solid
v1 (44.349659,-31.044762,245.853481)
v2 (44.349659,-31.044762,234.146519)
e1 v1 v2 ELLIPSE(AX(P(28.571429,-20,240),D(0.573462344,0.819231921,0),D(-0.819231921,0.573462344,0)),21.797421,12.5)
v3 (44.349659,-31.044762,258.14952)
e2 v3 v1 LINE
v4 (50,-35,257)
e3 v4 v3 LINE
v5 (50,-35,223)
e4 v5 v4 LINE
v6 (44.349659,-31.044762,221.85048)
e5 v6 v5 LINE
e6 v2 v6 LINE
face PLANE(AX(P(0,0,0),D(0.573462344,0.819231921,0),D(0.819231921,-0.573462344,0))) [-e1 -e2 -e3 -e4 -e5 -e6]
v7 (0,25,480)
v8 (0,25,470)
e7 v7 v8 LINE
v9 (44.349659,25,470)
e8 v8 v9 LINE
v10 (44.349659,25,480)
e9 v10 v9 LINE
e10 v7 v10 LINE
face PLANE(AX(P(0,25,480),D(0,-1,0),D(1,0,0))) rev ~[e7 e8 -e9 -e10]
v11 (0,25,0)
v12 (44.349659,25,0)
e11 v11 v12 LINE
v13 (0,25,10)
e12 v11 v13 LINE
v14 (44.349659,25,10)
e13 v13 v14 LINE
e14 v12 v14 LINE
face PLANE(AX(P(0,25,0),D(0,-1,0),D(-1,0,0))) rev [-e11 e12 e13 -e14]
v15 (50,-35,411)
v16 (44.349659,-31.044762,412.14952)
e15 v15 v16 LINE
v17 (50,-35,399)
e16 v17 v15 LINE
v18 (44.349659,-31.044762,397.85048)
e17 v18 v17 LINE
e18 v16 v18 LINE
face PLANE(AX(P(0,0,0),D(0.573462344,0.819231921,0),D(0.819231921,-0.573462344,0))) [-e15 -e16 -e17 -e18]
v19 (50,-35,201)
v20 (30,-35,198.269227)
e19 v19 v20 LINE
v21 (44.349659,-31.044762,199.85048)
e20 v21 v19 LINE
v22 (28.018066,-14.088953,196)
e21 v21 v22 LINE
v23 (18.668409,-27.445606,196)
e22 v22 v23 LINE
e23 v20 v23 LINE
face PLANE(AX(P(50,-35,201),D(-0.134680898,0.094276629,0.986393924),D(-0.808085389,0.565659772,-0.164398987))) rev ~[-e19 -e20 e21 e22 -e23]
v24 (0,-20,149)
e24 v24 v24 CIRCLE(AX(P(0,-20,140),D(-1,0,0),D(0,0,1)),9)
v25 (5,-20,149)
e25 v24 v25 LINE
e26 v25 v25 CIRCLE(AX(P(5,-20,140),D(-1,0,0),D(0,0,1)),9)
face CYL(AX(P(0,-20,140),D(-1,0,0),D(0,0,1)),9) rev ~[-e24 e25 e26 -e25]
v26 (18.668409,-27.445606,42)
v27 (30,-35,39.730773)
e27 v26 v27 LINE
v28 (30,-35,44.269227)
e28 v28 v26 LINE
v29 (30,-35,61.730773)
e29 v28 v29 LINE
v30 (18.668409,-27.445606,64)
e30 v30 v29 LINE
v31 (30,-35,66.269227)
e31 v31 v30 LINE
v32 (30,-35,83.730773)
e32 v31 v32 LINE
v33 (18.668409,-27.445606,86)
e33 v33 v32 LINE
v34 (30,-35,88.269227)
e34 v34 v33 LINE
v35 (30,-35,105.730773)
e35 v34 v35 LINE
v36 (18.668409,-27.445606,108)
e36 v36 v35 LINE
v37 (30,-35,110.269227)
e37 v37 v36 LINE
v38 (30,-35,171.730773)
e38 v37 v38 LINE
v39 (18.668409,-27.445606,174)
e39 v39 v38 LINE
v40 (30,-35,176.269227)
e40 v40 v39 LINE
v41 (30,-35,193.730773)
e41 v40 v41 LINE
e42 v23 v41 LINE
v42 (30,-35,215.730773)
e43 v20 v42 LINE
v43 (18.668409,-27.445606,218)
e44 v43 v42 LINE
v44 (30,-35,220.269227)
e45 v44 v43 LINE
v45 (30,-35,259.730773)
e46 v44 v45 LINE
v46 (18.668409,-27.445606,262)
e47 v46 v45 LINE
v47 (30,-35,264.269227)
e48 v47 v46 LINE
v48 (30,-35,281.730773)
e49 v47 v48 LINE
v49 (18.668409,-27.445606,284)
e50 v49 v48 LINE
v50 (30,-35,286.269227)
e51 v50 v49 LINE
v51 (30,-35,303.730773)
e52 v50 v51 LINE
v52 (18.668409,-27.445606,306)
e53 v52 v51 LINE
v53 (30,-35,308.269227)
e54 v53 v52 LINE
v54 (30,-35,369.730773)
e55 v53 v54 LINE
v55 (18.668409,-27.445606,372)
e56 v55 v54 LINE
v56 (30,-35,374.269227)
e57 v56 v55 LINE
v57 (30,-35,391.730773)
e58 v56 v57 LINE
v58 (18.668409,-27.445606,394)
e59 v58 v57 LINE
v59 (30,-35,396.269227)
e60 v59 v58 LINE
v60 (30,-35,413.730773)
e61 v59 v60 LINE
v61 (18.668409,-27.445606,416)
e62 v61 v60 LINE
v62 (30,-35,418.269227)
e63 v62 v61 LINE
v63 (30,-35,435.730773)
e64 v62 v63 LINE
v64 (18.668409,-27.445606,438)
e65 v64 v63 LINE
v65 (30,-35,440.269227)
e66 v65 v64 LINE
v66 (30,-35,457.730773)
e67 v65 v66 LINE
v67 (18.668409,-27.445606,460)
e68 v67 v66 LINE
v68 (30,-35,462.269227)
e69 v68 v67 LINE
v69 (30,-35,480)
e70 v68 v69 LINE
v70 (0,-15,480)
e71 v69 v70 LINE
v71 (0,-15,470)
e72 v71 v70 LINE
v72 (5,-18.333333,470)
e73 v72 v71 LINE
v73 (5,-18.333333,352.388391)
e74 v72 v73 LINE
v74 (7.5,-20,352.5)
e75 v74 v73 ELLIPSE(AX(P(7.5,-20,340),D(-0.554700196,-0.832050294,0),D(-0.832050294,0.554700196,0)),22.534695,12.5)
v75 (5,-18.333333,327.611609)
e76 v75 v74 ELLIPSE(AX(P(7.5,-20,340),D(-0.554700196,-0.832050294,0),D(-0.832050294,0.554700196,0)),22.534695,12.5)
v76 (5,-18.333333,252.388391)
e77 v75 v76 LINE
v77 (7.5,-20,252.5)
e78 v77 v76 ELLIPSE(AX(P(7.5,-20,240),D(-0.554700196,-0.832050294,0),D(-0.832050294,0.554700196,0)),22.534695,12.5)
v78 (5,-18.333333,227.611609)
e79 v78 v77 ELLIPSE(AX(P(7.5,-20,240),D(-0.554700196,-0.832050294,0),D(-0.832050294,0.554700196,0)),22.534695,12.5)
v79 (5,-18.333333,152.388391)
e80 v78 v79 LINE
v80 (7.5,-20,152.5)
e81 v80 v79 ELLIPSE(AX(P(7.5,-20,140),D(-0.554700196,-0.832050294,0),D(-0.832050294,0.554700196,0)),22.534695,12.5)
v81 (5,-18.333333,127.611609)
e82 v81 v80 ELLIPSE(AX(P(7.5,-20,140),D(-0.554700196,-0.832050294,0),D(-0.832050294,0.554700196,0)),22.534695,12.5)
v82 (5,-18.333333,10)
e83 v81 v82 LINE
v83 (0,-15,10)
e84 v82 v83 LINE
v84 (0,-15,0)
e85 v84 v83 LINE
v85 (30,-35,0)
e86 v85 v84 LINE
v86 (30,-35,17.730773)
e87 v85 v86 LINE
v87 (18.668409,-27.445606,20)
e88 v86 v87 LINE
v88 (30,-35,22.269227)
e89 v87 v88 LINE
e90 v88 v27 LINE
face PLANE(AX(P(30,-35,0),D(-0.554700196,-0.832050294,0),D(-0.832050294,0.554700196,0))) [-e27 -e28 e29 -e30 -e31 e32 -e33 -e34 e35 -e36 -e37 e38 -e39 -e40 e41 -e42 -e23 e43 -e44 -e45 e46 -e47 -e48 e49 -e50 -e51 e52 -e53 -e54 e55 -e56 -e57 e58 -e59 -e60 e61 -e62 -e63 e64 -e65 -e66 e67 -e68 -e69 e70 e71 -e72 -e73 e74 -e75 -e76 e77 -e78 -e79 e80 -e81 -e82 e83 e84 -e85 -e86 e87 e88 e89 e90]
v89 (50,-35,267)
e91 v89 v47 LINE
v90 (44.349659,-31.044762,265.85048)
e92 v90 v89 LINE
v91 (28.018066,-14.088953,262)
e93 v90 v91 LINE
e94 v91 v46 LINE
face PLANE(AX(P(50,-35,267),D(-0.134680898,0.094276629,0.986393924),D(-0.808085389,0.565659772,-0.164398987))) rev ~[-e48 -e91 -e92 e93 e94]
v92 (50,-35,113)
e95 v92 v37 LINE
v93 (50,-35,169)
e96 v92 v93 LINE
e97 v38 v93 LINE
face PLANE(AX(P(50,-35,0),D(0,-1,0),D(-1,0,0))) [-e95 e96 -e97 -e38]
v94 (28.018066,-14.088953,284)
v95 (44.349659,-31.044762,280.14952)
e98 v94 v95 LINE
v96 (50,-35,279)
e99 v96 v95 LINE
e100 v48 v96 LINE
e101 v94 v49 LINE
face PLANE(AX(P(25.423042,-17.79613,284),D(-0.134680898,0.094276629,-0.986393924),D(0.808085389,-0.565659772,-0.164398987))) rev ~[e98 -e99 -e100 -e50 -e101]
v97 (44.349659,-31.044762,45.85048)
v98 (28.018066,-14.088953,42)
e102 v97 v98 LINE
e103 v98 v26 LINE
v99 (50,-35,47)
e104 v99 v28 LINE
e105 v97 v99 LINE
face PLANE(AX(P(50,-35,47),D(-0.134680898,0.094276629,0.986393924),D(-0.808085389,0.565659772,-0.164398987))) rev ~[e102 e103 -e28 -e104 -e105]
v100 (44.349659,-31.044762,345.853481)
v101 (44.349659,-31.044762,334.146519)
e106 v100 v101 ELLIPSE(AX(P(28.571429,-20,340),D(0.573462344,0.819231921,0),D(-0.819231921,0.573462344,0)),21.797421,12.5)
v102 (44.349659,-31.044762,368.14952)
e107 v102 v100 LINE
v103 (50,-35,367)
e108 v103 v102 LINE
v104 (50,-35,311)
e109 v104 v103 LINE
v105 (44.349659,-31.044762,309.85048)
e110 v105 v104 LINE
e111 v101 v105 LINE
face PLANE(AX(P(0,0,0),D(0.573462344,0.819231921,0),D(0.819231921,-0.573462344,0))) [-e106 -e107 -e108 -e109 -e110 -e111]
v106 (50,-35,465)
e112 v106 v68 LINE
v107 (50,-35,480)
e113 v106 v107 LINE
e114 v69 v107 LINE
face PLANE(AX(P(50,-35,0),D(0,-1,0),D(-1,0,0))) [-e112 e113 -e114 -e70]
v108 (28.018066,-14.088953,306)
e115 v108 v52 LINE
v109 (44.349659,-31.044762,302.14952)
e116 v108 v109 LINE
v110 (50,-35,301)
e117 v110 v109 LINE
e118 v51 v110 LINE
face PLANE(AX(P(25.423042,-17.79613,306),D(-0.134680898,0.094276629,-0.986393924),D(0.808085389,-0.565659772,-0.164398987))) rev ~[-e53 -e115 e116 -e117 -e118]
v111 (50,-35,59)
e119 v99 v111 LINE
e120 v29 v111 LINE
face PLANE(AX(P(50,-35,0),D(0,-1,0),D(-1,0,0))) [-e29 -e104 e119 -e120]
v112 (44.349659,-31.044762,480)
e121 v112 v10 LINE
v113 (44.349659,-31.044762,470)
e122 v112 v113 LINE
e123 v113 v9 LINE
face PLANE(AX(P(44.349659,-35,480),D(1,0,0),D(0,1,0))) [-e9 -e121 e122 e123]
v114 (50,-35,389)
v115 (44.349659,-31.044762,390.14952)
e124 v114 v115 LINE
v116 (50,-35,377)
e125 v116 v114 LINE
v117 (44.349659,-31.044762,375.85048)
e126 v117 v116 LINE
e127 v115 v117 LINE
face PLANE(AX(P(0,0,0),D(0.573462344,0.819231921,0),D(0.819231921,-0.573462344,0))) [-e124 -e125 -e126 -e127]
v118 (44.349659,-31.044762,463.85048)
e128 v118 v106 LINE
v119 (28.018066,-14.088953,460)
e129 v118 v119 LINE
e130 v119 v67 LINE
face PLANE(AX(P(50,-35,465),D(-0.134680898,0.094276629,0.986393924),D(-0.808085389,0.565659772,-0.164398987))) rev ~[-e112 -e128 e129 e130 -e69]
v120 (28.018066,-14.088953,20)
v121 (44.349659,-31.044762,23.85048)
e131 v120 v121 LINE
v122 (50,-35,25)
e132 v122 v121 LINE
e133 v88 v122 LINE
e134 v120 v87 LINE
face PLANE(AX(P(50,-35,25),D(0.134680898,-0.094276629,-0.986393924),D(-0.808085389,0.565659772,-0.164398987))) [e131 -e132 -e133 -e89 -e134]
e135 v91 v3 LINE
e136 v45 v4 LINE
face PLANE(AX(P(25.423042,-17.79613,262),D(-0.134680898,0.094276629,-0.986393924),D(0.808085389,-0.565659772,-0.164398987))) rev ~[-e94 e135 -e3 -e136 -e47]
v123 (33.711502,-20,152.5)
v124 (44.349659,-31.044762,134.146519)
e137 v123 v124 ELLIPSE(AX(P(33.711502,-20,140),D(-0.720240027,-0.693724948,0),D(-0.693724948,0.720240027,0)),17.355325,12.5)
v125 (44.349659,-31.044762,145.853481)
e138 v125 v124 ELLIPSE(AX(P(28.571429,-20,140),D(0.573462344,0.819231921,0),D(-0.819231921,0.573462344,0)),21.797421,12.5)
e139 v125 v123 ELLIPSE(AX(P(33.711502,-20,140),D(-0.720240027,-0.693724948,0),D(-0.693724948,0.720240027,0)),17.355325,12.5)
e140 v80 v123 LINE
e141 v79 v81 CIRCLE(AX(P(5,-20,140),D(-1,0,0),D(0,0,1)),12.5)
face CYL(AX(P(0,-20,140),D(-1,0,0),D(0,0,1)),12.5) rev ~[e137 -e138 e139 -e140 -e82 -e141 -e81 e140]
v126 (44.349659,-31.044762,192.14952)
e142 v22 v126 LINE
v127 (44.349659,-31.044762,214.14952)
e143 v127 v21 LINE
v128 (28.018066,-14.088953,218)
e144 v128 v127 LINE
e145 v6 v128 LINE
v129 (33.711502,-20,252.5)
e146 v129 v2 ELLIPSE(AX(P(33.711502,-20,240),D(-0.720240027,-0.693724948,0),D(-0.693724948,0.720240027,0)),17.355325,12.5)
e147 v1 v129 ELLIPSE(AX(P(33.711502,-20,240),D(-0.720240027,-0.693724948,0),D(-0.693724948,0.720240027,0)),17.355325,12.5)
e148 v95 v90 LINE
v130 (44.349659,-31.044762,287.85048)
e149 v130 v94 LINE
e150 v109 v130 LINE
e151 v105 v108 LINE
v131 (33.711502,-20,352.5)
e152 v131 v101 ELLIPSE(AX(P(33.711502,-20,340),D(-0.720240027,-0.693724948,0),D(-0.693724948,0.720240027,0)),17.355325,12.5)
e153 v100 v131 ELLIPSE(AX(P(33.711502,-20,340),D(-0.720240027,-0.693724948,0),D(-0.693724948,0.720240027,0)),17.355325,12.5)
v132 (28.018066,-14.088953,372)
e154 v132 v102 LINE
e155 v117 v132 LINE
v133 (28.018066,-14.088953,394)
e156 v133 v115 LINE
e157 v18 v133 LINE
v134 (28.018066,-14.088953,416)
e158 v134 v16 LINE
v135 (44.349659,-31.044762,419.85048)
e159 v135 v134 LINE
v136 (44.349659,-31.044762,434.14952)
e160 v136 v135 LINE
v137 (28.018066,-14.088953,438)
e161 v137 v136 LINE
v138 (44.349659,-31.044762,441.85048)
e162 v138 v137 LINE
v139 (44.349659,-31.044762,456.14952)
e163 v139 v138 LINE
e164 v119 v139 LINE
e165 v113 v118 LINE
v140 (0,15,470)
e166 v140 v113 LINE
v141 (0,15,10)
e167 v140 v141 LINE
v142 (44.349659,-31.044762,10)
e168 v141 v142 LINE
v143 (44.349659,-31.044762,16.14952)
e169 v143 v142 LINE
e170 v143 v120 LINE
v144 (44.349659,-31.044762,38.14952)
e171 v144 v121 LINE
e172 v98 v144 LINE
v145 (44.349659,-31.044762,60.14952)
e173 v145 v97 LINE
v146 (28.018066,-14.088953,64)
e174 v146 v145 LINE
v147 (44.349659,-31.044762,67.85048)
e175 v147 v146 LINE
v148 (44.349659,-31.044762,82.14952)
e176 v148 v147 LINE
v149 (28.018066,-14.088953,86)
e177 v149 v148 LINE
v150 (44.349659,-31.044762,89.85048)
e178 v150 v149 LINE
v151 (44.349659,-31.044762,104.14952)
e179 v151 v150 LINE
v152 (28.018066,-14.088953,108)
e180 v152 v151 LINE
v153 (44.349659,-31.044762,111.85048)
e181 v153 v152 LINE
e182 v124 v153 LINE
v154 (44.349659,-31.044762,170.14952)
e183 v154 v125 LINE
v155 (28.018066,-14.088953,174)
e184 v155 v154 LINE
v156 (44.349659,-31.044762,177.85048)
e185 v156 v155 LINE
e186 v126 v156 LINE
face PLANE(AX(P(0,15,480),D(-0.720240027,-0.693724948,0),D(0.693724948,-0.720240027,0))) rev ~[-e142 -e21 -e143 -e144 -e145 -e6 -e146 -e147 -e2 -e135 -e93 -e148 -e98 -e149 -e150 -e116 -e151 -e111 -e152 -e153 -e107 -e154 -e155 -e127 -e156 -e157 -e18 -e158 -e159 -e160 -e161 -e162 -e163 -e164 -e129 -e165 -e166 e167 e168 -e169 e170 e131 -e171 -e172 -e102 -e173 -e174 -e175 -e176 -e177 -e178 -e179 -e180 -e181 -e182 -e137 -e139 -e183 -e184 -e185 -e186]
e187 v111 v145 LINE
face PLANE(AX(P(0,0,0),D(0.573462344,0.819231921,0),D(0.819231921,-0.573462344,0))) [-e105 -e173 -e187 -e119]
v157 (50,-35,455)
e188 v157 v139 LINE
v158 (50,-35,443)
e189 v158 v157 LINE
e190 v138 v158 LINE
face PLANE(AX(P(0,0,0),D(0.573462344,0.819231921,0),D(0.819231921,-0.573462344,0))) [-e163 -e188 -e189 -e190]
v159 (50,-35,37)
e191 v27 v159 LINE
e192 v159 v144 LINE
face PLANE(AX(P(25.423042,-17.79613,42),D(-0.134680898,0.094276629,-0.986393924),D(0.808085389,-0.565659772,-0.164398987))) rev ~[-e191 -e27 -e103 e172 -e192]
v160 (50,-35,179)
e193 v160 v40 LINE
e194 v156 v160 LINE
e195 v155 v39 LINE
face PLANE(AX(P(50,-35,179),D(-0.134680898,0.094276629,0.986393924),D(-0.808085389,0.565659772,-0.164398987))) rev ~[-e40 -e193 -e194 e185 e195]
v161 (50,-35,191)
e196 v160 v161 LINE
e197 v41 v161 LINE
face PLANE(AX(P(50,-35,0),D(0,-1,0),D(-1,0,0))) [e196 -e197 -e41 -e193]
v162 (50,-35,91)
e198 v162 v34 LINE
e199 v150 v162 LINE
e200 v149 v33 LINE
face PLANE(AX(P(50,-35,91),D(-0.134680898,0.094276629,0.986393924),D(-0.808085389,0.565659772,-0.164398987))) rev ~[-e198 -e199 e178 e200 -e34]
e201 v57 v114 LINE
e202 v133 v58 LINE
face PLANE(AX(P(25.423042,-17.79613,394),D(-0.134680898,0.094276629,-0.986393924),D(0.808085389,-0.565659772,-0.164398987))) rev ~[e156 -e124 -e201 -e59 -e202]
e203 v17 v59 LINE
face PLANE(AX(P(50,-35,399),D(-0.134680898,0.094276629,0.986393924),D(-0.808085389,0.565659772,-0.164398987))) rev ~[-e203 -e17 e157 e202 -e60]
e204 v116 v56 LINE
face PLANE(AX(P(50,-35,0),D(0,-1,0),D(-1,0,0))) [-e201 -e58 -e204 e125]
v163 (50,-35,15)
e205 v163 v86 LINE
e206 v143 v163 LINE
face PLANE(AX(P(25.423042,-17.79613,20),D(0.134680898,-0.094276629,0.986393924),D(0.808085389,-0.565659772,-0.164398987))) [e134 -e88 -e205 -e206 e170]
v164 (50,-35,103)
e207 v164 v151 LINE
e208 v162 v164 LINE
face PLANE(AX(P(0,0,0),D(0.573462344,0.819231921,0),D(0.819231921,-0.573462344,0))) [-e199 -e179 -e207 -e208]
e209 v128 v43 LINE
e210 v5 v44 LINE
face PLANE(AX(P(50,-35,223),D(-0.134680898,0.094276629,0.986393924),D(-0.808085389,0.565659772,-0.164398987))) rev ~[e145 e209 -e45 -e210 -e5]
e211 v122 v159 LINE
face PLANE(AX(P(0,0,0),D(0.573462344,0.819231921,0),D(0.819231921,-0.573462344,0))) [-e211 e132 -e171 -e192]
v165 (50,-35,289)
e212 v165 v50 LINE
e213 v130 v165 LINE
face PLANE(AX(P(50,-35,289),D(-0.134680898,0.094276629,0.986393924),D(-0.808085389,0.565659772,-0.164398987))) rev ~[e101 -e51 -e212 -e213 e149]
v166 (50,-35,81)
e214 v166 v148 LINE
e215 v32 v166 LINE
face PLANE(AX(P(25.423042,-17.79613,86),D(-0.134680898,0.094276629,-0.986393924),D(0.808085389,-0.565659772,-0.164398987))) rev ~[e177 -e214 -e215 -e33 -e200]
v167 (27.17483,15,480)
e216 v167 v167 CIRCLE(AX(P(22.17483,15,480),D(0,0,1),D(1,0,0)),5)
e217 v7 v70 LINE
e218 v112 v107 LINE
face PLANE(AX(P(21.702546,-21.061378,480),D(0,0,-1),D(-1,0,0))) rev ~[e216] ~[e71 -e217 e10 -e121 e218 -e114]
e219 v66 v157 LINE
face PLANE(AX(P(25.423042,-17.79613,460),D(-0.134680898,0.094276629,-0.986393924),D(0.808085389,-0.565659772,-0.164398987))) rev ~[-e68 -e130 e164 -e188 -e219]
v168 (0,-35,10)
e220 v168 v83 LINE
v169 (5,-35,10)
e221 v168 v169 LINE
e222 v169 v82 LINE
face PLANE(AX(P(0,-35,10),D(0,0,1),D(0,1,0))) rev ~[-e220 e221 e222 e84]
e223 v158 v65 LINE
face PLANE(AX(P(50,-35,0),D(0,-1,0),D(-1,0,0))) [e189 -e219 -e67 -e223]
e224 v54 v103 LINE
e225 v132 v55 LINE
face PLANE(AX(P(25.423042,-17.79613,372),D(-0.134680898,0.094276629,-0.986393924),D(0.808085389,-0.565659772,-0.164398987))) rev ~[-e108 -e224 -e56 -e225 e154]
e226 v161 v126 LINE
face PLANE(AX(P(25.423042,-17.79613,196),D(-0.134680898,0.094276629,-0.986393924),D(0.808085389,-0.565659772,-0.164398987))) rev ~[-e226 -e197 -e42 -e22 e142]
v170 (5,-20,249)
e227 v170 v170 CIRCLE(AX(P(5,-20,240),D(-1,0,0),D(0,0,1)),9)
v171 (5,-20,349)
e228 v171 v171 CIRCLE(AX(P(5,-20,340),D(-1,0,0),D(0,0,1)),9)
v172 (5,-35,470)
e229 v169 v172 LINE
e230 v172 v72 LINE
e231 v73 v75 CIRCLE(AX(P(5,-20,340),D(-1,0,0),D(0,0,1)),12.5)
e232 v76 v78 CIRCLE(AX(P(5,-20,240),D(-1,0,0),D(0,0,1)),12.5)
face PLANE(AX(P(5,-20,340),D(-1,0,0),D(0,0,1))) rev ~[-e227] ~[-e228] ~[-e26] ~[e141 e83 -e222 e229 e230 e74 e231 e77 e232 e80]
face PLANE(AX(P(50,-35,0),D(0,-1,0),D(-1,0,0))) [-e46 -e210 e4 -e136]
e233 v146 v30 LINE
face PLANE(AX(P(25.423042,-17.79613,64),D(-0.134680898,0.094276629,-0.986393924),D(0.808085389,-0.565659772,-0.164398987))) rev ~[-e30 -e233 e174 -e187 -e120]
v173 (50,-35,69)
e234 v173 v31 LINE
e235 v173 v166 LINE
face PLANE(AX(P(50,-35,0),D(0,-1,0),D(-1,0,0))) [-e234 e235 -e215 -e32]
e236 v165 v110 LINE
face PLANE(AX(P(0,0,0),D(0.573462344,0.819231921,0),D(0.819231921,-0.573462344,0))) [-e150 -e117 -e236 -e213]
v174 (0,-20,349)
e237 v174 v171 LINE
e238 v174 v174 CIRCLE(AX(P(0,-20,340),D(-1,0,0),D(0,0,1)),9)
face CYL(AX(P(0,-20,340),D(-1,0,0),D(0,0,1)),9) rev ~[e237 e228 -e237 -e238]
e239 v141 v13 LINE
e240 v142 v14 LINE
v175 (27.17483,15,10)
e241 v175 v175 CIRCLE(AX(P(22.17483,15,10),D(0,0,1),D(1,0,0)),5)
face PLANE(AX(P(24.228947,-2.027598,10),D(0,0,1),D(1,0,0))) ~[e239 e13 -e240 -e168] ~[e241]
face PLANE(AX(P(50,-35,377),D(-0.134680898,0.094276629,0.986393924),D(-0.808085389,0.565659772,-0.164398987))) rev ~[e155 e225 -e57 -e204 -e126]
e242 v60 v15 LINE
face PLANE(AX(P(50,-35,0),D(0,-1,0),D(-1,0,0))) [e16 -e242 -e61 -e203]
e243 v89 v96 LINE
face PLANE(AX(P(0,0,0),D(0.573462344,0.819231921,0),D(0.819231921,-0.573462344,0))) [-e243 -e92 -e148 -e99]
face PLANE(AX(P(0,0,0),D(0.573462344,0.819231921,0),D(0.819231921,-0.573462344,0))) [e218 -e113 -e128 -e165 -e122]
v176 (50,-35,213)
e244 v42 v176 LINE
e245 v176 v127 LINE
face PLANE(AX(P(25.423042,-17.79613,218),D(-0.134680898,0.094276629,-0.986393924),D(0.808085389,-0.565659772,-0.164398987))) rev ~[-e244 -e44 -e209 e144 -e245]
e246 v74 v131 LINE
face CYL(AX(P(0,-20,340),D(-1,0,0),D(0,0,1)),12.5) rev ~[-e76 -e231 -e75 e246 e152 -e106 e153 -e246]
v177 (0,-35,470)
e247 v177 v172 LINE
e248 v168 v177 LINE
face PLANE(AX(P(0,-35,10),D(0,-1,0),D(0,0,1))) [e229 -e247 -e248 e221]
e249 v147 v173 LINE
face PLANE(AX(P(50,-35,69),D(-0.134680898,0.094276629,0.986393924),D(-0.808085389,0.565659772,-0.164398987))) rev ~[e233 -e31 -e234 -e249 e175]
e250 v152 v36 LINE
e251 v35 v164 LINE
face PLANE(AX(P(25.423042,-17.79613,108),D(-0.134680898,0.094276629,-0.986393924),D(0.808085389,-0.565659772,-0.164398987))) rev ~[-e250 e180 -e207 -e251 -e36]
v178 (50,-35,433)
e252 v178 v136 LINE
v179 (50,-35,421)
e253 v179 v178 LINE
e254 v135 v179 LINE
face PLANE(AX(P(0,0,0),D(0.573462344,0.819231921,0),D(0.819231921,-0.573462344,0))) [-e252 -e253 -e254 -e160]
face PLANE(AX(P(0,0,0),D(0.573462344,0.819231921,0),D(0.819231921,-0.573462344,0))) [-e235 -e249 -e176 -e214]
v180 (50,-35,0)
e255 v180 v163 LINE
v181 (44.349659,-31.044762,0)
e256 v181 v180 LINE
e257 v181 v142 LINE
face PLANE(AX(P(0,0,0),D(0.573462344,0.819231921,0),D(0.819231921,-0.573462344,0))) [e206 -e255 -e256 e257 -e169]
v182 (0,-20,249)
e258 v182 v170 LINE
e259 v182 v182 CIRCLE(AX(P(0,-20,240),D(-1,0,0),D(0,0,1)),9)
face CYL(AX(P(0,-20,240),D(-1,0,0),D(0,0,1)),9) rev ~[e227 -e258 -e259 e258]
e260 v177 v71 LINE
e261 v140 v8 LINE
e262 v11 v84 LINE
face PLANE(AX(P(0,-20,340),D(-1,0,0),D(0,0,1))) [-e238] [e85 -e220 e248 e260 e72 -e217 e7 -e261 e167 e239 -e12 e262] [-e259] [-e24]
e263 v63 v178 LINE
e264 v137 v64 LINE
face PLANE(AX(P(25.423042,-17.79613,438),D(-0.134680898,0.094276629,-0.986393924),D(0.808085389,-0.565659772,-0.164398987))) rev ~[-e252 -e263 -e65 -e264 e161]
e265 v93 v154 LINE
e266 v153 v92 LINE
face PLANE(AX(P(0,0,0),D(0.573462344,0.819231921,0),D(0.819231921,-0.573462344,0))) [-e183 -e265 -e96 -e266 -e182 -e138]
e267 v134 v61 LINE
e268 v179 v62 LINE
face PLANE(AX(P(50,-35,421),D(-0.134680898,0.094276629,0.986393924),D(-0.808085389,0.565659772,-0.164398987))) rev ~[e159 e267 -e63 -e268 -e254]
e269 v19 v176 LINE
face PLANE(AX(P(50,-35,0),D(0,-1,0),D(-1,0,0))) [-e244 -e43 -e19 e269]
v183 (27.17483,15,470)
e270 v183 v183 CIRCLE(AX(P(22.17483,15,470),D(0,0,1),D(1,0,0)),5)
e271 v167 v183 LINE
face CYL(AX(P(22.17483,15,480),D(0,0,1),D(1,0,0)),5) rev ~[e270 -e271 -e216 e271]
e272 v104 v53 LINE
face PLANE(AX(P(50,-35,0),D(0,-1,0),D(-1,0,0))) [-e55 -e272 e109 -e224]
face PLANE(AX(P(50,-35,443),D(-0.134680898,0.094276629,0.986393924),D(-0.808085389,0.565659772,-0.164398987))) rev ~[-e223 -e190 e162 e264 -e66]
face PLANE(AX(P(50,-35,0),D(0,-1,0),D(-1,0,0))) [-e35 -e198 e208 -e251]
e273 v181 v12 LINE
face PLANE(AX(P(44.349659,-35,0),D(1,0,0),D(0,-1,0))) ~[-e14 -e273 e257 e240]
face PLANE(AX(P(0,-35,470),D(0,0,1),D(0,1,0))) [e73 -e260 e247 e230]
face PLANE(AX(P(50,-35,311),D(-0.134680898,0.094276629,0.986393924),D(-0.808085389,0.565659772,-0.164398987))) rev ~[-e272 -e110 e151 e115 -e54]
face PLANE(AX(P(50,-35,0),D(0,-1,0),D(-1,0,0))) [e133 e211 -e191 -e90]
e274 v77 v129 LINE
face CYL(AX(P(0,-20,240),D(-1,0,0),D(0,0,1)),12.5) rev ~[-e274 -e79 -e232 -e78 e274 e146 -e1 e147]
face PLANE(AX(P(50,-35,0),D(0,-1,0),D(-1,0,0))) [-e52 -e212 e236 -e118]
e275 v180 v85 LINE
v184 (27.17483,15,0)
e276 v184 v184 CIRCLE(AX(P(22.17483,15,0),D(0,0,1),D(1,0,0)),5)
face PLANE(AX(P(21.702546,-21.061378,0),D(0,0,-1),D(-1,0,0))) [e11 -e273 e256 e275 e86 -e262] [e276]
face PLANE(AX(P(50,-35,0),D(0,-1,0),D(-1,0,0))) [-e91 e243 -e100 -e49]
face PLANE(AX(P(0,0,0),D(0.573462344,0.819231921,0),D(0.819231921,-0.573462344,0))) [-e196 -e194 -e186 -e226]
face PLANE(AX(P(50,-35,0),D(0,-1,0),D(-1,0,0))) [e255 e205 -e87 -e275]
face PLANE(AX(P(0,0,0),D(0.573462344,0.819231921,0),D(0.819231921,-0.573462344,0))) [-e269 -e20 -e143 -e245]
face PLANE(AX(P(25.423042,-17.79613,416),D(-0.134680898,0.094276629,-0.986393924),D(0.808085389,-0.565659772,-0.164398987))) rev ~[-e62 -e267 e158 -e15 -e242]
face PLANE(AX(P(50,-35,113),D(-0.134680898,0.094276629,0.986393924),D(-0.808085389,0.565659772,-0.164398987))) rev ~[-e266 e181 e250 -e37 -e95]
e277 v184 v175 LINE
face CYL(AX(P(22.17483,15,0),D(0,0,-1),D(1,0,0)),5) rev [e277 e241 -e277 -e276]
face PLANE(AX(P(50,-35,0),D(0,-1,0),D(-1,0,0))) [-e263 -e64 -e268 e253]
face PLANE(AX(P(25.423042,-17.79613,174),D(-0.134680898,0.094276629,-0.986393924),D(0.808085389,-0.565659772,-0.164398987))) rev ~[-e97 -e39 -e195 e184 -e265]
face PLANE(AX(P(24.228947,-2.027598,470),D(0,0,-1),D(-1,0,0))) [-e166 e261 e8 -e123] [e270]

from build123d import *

# Parameters (mm, degrees)
BOSS_EXTRUDE1_DEPTH = 480
SKETCH2_R           = 5
BOSS_EXTRUDE2_DEPTH = 10
BOSS_EXTRUDE3_REACH = 482
CUT_EXTRUDE9_DEPTH  = 28
SKETCH14_W          = 460
SKETCH14_H          = 35
BOSS_EXTRUDE6_DEPTH = 5
SKETCH7_R           = 12.5
CUT_EXTRUDE8_DEPTH  = 56
SKETCH15_R          = 12.5
SKETCH15_R_2        = 9
BOSS_EXTRUDE7_DEPTH = 5


with BuildPart() as part:
    # Sketch1 → Boss-Extrude1 (new body)
    with BuildSketch(Plane.XY):
        Polygon((0, 0), (50, -35), (30, -35), (0, -15), align=None)
    extrude(amount=BOSS_EXTRUDE1_DEPTH)

    # Sketch2 → Boss-Extrude2 (add)
    with BuildSketch(Plane.XY.offset(480)):
        Polygon((0, -15), (0, 25), (44.349659334, 25), (44.349659334, -15), (44.349659334, -35), (30, -35), align=None)
        with Locations((22.174829667, 15)):
            Circle(SKETCH2_R, mode=Mode.SUBTRACT)
    boss_extrude2 = extrude(amount=-BOSS_EXTRUDE2_DEPTH)

    # Mirror1: Boss-Extrude2 across plane
    add(boss_extrude2.mirror(Plane.XY.offset(240)))

    # Sketch4 → Boss-Extrude3 (add, up to next)
    with BuildSketch(Plane.XY.offset(480), mode=Mode.PRIVATE) as boss_extrude3_sk1:
        Polygon((0, 0), (0, 15), (44.349659334, -31.044761534), align=None)
    boss_extrude3_tool1 = extrude(boss_extrude3_sk1.sketch, amount=-BOSS_EXTRUDE3_REACH, mode=Mode.PRIVATE) - part.part
    add(boss_extrude3_tool1.solids().sort_by_distance((14.78322, -5.348254, 480))[0])

    # Sketch3 → Cut-Extrude9 (cut, symmetric)
    with BuildSketch(Plane(origin=(0, 0, 0), x_dir=(0.819231921, -0.573462344, 0), z_dir=(0.573462344, 0.819231921, 0))):
        Polygon((61.032778079, -465), (31.032778079, -460), (61.032778079, -455), align=None)
        Polygon((61.032778079, -443), (31.032778079, -438), (61.032778079, -433), align=None)
        Polygon((61.032778079, -421), (31.032778079, -416), (61.032778079, -411), align=None)
        Polygon((61.032778079, -399), (31.032778079, -394), (61.032778079, -389), align=None)
        Polygon((61.032778079, -377), (31.032778079, -372), (61.032778079, -367), align=None)
        Polygon((61.032778079, -311), (31.032778079, -306), (61.032778079, -301), align=None)
        Polygon((61.032778079, -289), (31.032778079, -284), (61.032778079, -279), align=None)
        Polygon((61.032778079, -267), (31.032778079, -262), (61.032778079, -257), align=None)
        Polygon((61.032778079, -223), (31.032778079, -218), (61.032778079, -213), align=None)
        Polygon((61.032778079, -201), (31.032778079, -196), (61.032778079, -191), align=None)
        Polygon((61.032778079, -179), (31.032778079, -174), (61.032778079, -169), align=None)
        Polygon((61.032778079, -113), (31.032778079, -108), (61.032778079, -103), align=None)
        Polygon((61.032778079, -91), (31.032778079, -86), (61.032778079, -81), align=None)
        Polygon((61.032778079, -69), (31.032778079, -64), (61.032778079, -59), align=None)
        Polygon((61.032778079, -47), (31.032778079, -42), (61.032778079, -37), align=None)
        Polygon((61.032778079, -25), (31.032778079, -20), (61.032778079, -15), align=None)
    extrude(amount=CUT_EXTRUDE9_DEPTH, both=True, mode=Mode.SUBTRACT)

    # Sketch14 → Boss-Extrude6 (add)
    with BuildSketch(Plane.ZY):
        with Locations((240, -17.5)):
            Rectangle(SKETCH14_W, SKETCH14_H)
    extrude(amount=-BOSS_EXTRUDE6_DEPTH)

    # Sketch7 → Cut-Extrude8 (cut)
    with BuildSketch(Plane.ZY):
        with Locations((240, -20)):
            Circle(SKETCH7_R)
        with Locations((340, -20)):
            Circle(SKETCH7_R)
        with Locations((140, -20)):
            Circle(SKETCH7_R)
    extrude(amount=-CUT_EXTRUDE8_DEPTH, mode=Mode.SUBTRACT)

    # Sketch15 → Boss-Extrude7 (add)
    with BuildSketch(Plane.ZY):
        with Locations((340, -20)):
            Circle(SKETCH15_R)
        with Locations((340, -20)):
            Circle(SKETCH15_R_2, mode=Mode.SUBTRACT)
        with Locations((240, -20)):
            Circle(SKETCH15_R)
        with Locations((240, -20)):
            Circle(SKETCH15_R_2, mode=Mode.SUBTRACT)
        with Locations((140, -20)):
            Circle(SKETCH15_R)
        with Locations((140, -20)):
            Circle(SKETCH15_R_2, mode=Mode.SUBTRACT)
    extrude(amount=-BOSS_EXTRUDE7_DEPTH)


solid = part.part
